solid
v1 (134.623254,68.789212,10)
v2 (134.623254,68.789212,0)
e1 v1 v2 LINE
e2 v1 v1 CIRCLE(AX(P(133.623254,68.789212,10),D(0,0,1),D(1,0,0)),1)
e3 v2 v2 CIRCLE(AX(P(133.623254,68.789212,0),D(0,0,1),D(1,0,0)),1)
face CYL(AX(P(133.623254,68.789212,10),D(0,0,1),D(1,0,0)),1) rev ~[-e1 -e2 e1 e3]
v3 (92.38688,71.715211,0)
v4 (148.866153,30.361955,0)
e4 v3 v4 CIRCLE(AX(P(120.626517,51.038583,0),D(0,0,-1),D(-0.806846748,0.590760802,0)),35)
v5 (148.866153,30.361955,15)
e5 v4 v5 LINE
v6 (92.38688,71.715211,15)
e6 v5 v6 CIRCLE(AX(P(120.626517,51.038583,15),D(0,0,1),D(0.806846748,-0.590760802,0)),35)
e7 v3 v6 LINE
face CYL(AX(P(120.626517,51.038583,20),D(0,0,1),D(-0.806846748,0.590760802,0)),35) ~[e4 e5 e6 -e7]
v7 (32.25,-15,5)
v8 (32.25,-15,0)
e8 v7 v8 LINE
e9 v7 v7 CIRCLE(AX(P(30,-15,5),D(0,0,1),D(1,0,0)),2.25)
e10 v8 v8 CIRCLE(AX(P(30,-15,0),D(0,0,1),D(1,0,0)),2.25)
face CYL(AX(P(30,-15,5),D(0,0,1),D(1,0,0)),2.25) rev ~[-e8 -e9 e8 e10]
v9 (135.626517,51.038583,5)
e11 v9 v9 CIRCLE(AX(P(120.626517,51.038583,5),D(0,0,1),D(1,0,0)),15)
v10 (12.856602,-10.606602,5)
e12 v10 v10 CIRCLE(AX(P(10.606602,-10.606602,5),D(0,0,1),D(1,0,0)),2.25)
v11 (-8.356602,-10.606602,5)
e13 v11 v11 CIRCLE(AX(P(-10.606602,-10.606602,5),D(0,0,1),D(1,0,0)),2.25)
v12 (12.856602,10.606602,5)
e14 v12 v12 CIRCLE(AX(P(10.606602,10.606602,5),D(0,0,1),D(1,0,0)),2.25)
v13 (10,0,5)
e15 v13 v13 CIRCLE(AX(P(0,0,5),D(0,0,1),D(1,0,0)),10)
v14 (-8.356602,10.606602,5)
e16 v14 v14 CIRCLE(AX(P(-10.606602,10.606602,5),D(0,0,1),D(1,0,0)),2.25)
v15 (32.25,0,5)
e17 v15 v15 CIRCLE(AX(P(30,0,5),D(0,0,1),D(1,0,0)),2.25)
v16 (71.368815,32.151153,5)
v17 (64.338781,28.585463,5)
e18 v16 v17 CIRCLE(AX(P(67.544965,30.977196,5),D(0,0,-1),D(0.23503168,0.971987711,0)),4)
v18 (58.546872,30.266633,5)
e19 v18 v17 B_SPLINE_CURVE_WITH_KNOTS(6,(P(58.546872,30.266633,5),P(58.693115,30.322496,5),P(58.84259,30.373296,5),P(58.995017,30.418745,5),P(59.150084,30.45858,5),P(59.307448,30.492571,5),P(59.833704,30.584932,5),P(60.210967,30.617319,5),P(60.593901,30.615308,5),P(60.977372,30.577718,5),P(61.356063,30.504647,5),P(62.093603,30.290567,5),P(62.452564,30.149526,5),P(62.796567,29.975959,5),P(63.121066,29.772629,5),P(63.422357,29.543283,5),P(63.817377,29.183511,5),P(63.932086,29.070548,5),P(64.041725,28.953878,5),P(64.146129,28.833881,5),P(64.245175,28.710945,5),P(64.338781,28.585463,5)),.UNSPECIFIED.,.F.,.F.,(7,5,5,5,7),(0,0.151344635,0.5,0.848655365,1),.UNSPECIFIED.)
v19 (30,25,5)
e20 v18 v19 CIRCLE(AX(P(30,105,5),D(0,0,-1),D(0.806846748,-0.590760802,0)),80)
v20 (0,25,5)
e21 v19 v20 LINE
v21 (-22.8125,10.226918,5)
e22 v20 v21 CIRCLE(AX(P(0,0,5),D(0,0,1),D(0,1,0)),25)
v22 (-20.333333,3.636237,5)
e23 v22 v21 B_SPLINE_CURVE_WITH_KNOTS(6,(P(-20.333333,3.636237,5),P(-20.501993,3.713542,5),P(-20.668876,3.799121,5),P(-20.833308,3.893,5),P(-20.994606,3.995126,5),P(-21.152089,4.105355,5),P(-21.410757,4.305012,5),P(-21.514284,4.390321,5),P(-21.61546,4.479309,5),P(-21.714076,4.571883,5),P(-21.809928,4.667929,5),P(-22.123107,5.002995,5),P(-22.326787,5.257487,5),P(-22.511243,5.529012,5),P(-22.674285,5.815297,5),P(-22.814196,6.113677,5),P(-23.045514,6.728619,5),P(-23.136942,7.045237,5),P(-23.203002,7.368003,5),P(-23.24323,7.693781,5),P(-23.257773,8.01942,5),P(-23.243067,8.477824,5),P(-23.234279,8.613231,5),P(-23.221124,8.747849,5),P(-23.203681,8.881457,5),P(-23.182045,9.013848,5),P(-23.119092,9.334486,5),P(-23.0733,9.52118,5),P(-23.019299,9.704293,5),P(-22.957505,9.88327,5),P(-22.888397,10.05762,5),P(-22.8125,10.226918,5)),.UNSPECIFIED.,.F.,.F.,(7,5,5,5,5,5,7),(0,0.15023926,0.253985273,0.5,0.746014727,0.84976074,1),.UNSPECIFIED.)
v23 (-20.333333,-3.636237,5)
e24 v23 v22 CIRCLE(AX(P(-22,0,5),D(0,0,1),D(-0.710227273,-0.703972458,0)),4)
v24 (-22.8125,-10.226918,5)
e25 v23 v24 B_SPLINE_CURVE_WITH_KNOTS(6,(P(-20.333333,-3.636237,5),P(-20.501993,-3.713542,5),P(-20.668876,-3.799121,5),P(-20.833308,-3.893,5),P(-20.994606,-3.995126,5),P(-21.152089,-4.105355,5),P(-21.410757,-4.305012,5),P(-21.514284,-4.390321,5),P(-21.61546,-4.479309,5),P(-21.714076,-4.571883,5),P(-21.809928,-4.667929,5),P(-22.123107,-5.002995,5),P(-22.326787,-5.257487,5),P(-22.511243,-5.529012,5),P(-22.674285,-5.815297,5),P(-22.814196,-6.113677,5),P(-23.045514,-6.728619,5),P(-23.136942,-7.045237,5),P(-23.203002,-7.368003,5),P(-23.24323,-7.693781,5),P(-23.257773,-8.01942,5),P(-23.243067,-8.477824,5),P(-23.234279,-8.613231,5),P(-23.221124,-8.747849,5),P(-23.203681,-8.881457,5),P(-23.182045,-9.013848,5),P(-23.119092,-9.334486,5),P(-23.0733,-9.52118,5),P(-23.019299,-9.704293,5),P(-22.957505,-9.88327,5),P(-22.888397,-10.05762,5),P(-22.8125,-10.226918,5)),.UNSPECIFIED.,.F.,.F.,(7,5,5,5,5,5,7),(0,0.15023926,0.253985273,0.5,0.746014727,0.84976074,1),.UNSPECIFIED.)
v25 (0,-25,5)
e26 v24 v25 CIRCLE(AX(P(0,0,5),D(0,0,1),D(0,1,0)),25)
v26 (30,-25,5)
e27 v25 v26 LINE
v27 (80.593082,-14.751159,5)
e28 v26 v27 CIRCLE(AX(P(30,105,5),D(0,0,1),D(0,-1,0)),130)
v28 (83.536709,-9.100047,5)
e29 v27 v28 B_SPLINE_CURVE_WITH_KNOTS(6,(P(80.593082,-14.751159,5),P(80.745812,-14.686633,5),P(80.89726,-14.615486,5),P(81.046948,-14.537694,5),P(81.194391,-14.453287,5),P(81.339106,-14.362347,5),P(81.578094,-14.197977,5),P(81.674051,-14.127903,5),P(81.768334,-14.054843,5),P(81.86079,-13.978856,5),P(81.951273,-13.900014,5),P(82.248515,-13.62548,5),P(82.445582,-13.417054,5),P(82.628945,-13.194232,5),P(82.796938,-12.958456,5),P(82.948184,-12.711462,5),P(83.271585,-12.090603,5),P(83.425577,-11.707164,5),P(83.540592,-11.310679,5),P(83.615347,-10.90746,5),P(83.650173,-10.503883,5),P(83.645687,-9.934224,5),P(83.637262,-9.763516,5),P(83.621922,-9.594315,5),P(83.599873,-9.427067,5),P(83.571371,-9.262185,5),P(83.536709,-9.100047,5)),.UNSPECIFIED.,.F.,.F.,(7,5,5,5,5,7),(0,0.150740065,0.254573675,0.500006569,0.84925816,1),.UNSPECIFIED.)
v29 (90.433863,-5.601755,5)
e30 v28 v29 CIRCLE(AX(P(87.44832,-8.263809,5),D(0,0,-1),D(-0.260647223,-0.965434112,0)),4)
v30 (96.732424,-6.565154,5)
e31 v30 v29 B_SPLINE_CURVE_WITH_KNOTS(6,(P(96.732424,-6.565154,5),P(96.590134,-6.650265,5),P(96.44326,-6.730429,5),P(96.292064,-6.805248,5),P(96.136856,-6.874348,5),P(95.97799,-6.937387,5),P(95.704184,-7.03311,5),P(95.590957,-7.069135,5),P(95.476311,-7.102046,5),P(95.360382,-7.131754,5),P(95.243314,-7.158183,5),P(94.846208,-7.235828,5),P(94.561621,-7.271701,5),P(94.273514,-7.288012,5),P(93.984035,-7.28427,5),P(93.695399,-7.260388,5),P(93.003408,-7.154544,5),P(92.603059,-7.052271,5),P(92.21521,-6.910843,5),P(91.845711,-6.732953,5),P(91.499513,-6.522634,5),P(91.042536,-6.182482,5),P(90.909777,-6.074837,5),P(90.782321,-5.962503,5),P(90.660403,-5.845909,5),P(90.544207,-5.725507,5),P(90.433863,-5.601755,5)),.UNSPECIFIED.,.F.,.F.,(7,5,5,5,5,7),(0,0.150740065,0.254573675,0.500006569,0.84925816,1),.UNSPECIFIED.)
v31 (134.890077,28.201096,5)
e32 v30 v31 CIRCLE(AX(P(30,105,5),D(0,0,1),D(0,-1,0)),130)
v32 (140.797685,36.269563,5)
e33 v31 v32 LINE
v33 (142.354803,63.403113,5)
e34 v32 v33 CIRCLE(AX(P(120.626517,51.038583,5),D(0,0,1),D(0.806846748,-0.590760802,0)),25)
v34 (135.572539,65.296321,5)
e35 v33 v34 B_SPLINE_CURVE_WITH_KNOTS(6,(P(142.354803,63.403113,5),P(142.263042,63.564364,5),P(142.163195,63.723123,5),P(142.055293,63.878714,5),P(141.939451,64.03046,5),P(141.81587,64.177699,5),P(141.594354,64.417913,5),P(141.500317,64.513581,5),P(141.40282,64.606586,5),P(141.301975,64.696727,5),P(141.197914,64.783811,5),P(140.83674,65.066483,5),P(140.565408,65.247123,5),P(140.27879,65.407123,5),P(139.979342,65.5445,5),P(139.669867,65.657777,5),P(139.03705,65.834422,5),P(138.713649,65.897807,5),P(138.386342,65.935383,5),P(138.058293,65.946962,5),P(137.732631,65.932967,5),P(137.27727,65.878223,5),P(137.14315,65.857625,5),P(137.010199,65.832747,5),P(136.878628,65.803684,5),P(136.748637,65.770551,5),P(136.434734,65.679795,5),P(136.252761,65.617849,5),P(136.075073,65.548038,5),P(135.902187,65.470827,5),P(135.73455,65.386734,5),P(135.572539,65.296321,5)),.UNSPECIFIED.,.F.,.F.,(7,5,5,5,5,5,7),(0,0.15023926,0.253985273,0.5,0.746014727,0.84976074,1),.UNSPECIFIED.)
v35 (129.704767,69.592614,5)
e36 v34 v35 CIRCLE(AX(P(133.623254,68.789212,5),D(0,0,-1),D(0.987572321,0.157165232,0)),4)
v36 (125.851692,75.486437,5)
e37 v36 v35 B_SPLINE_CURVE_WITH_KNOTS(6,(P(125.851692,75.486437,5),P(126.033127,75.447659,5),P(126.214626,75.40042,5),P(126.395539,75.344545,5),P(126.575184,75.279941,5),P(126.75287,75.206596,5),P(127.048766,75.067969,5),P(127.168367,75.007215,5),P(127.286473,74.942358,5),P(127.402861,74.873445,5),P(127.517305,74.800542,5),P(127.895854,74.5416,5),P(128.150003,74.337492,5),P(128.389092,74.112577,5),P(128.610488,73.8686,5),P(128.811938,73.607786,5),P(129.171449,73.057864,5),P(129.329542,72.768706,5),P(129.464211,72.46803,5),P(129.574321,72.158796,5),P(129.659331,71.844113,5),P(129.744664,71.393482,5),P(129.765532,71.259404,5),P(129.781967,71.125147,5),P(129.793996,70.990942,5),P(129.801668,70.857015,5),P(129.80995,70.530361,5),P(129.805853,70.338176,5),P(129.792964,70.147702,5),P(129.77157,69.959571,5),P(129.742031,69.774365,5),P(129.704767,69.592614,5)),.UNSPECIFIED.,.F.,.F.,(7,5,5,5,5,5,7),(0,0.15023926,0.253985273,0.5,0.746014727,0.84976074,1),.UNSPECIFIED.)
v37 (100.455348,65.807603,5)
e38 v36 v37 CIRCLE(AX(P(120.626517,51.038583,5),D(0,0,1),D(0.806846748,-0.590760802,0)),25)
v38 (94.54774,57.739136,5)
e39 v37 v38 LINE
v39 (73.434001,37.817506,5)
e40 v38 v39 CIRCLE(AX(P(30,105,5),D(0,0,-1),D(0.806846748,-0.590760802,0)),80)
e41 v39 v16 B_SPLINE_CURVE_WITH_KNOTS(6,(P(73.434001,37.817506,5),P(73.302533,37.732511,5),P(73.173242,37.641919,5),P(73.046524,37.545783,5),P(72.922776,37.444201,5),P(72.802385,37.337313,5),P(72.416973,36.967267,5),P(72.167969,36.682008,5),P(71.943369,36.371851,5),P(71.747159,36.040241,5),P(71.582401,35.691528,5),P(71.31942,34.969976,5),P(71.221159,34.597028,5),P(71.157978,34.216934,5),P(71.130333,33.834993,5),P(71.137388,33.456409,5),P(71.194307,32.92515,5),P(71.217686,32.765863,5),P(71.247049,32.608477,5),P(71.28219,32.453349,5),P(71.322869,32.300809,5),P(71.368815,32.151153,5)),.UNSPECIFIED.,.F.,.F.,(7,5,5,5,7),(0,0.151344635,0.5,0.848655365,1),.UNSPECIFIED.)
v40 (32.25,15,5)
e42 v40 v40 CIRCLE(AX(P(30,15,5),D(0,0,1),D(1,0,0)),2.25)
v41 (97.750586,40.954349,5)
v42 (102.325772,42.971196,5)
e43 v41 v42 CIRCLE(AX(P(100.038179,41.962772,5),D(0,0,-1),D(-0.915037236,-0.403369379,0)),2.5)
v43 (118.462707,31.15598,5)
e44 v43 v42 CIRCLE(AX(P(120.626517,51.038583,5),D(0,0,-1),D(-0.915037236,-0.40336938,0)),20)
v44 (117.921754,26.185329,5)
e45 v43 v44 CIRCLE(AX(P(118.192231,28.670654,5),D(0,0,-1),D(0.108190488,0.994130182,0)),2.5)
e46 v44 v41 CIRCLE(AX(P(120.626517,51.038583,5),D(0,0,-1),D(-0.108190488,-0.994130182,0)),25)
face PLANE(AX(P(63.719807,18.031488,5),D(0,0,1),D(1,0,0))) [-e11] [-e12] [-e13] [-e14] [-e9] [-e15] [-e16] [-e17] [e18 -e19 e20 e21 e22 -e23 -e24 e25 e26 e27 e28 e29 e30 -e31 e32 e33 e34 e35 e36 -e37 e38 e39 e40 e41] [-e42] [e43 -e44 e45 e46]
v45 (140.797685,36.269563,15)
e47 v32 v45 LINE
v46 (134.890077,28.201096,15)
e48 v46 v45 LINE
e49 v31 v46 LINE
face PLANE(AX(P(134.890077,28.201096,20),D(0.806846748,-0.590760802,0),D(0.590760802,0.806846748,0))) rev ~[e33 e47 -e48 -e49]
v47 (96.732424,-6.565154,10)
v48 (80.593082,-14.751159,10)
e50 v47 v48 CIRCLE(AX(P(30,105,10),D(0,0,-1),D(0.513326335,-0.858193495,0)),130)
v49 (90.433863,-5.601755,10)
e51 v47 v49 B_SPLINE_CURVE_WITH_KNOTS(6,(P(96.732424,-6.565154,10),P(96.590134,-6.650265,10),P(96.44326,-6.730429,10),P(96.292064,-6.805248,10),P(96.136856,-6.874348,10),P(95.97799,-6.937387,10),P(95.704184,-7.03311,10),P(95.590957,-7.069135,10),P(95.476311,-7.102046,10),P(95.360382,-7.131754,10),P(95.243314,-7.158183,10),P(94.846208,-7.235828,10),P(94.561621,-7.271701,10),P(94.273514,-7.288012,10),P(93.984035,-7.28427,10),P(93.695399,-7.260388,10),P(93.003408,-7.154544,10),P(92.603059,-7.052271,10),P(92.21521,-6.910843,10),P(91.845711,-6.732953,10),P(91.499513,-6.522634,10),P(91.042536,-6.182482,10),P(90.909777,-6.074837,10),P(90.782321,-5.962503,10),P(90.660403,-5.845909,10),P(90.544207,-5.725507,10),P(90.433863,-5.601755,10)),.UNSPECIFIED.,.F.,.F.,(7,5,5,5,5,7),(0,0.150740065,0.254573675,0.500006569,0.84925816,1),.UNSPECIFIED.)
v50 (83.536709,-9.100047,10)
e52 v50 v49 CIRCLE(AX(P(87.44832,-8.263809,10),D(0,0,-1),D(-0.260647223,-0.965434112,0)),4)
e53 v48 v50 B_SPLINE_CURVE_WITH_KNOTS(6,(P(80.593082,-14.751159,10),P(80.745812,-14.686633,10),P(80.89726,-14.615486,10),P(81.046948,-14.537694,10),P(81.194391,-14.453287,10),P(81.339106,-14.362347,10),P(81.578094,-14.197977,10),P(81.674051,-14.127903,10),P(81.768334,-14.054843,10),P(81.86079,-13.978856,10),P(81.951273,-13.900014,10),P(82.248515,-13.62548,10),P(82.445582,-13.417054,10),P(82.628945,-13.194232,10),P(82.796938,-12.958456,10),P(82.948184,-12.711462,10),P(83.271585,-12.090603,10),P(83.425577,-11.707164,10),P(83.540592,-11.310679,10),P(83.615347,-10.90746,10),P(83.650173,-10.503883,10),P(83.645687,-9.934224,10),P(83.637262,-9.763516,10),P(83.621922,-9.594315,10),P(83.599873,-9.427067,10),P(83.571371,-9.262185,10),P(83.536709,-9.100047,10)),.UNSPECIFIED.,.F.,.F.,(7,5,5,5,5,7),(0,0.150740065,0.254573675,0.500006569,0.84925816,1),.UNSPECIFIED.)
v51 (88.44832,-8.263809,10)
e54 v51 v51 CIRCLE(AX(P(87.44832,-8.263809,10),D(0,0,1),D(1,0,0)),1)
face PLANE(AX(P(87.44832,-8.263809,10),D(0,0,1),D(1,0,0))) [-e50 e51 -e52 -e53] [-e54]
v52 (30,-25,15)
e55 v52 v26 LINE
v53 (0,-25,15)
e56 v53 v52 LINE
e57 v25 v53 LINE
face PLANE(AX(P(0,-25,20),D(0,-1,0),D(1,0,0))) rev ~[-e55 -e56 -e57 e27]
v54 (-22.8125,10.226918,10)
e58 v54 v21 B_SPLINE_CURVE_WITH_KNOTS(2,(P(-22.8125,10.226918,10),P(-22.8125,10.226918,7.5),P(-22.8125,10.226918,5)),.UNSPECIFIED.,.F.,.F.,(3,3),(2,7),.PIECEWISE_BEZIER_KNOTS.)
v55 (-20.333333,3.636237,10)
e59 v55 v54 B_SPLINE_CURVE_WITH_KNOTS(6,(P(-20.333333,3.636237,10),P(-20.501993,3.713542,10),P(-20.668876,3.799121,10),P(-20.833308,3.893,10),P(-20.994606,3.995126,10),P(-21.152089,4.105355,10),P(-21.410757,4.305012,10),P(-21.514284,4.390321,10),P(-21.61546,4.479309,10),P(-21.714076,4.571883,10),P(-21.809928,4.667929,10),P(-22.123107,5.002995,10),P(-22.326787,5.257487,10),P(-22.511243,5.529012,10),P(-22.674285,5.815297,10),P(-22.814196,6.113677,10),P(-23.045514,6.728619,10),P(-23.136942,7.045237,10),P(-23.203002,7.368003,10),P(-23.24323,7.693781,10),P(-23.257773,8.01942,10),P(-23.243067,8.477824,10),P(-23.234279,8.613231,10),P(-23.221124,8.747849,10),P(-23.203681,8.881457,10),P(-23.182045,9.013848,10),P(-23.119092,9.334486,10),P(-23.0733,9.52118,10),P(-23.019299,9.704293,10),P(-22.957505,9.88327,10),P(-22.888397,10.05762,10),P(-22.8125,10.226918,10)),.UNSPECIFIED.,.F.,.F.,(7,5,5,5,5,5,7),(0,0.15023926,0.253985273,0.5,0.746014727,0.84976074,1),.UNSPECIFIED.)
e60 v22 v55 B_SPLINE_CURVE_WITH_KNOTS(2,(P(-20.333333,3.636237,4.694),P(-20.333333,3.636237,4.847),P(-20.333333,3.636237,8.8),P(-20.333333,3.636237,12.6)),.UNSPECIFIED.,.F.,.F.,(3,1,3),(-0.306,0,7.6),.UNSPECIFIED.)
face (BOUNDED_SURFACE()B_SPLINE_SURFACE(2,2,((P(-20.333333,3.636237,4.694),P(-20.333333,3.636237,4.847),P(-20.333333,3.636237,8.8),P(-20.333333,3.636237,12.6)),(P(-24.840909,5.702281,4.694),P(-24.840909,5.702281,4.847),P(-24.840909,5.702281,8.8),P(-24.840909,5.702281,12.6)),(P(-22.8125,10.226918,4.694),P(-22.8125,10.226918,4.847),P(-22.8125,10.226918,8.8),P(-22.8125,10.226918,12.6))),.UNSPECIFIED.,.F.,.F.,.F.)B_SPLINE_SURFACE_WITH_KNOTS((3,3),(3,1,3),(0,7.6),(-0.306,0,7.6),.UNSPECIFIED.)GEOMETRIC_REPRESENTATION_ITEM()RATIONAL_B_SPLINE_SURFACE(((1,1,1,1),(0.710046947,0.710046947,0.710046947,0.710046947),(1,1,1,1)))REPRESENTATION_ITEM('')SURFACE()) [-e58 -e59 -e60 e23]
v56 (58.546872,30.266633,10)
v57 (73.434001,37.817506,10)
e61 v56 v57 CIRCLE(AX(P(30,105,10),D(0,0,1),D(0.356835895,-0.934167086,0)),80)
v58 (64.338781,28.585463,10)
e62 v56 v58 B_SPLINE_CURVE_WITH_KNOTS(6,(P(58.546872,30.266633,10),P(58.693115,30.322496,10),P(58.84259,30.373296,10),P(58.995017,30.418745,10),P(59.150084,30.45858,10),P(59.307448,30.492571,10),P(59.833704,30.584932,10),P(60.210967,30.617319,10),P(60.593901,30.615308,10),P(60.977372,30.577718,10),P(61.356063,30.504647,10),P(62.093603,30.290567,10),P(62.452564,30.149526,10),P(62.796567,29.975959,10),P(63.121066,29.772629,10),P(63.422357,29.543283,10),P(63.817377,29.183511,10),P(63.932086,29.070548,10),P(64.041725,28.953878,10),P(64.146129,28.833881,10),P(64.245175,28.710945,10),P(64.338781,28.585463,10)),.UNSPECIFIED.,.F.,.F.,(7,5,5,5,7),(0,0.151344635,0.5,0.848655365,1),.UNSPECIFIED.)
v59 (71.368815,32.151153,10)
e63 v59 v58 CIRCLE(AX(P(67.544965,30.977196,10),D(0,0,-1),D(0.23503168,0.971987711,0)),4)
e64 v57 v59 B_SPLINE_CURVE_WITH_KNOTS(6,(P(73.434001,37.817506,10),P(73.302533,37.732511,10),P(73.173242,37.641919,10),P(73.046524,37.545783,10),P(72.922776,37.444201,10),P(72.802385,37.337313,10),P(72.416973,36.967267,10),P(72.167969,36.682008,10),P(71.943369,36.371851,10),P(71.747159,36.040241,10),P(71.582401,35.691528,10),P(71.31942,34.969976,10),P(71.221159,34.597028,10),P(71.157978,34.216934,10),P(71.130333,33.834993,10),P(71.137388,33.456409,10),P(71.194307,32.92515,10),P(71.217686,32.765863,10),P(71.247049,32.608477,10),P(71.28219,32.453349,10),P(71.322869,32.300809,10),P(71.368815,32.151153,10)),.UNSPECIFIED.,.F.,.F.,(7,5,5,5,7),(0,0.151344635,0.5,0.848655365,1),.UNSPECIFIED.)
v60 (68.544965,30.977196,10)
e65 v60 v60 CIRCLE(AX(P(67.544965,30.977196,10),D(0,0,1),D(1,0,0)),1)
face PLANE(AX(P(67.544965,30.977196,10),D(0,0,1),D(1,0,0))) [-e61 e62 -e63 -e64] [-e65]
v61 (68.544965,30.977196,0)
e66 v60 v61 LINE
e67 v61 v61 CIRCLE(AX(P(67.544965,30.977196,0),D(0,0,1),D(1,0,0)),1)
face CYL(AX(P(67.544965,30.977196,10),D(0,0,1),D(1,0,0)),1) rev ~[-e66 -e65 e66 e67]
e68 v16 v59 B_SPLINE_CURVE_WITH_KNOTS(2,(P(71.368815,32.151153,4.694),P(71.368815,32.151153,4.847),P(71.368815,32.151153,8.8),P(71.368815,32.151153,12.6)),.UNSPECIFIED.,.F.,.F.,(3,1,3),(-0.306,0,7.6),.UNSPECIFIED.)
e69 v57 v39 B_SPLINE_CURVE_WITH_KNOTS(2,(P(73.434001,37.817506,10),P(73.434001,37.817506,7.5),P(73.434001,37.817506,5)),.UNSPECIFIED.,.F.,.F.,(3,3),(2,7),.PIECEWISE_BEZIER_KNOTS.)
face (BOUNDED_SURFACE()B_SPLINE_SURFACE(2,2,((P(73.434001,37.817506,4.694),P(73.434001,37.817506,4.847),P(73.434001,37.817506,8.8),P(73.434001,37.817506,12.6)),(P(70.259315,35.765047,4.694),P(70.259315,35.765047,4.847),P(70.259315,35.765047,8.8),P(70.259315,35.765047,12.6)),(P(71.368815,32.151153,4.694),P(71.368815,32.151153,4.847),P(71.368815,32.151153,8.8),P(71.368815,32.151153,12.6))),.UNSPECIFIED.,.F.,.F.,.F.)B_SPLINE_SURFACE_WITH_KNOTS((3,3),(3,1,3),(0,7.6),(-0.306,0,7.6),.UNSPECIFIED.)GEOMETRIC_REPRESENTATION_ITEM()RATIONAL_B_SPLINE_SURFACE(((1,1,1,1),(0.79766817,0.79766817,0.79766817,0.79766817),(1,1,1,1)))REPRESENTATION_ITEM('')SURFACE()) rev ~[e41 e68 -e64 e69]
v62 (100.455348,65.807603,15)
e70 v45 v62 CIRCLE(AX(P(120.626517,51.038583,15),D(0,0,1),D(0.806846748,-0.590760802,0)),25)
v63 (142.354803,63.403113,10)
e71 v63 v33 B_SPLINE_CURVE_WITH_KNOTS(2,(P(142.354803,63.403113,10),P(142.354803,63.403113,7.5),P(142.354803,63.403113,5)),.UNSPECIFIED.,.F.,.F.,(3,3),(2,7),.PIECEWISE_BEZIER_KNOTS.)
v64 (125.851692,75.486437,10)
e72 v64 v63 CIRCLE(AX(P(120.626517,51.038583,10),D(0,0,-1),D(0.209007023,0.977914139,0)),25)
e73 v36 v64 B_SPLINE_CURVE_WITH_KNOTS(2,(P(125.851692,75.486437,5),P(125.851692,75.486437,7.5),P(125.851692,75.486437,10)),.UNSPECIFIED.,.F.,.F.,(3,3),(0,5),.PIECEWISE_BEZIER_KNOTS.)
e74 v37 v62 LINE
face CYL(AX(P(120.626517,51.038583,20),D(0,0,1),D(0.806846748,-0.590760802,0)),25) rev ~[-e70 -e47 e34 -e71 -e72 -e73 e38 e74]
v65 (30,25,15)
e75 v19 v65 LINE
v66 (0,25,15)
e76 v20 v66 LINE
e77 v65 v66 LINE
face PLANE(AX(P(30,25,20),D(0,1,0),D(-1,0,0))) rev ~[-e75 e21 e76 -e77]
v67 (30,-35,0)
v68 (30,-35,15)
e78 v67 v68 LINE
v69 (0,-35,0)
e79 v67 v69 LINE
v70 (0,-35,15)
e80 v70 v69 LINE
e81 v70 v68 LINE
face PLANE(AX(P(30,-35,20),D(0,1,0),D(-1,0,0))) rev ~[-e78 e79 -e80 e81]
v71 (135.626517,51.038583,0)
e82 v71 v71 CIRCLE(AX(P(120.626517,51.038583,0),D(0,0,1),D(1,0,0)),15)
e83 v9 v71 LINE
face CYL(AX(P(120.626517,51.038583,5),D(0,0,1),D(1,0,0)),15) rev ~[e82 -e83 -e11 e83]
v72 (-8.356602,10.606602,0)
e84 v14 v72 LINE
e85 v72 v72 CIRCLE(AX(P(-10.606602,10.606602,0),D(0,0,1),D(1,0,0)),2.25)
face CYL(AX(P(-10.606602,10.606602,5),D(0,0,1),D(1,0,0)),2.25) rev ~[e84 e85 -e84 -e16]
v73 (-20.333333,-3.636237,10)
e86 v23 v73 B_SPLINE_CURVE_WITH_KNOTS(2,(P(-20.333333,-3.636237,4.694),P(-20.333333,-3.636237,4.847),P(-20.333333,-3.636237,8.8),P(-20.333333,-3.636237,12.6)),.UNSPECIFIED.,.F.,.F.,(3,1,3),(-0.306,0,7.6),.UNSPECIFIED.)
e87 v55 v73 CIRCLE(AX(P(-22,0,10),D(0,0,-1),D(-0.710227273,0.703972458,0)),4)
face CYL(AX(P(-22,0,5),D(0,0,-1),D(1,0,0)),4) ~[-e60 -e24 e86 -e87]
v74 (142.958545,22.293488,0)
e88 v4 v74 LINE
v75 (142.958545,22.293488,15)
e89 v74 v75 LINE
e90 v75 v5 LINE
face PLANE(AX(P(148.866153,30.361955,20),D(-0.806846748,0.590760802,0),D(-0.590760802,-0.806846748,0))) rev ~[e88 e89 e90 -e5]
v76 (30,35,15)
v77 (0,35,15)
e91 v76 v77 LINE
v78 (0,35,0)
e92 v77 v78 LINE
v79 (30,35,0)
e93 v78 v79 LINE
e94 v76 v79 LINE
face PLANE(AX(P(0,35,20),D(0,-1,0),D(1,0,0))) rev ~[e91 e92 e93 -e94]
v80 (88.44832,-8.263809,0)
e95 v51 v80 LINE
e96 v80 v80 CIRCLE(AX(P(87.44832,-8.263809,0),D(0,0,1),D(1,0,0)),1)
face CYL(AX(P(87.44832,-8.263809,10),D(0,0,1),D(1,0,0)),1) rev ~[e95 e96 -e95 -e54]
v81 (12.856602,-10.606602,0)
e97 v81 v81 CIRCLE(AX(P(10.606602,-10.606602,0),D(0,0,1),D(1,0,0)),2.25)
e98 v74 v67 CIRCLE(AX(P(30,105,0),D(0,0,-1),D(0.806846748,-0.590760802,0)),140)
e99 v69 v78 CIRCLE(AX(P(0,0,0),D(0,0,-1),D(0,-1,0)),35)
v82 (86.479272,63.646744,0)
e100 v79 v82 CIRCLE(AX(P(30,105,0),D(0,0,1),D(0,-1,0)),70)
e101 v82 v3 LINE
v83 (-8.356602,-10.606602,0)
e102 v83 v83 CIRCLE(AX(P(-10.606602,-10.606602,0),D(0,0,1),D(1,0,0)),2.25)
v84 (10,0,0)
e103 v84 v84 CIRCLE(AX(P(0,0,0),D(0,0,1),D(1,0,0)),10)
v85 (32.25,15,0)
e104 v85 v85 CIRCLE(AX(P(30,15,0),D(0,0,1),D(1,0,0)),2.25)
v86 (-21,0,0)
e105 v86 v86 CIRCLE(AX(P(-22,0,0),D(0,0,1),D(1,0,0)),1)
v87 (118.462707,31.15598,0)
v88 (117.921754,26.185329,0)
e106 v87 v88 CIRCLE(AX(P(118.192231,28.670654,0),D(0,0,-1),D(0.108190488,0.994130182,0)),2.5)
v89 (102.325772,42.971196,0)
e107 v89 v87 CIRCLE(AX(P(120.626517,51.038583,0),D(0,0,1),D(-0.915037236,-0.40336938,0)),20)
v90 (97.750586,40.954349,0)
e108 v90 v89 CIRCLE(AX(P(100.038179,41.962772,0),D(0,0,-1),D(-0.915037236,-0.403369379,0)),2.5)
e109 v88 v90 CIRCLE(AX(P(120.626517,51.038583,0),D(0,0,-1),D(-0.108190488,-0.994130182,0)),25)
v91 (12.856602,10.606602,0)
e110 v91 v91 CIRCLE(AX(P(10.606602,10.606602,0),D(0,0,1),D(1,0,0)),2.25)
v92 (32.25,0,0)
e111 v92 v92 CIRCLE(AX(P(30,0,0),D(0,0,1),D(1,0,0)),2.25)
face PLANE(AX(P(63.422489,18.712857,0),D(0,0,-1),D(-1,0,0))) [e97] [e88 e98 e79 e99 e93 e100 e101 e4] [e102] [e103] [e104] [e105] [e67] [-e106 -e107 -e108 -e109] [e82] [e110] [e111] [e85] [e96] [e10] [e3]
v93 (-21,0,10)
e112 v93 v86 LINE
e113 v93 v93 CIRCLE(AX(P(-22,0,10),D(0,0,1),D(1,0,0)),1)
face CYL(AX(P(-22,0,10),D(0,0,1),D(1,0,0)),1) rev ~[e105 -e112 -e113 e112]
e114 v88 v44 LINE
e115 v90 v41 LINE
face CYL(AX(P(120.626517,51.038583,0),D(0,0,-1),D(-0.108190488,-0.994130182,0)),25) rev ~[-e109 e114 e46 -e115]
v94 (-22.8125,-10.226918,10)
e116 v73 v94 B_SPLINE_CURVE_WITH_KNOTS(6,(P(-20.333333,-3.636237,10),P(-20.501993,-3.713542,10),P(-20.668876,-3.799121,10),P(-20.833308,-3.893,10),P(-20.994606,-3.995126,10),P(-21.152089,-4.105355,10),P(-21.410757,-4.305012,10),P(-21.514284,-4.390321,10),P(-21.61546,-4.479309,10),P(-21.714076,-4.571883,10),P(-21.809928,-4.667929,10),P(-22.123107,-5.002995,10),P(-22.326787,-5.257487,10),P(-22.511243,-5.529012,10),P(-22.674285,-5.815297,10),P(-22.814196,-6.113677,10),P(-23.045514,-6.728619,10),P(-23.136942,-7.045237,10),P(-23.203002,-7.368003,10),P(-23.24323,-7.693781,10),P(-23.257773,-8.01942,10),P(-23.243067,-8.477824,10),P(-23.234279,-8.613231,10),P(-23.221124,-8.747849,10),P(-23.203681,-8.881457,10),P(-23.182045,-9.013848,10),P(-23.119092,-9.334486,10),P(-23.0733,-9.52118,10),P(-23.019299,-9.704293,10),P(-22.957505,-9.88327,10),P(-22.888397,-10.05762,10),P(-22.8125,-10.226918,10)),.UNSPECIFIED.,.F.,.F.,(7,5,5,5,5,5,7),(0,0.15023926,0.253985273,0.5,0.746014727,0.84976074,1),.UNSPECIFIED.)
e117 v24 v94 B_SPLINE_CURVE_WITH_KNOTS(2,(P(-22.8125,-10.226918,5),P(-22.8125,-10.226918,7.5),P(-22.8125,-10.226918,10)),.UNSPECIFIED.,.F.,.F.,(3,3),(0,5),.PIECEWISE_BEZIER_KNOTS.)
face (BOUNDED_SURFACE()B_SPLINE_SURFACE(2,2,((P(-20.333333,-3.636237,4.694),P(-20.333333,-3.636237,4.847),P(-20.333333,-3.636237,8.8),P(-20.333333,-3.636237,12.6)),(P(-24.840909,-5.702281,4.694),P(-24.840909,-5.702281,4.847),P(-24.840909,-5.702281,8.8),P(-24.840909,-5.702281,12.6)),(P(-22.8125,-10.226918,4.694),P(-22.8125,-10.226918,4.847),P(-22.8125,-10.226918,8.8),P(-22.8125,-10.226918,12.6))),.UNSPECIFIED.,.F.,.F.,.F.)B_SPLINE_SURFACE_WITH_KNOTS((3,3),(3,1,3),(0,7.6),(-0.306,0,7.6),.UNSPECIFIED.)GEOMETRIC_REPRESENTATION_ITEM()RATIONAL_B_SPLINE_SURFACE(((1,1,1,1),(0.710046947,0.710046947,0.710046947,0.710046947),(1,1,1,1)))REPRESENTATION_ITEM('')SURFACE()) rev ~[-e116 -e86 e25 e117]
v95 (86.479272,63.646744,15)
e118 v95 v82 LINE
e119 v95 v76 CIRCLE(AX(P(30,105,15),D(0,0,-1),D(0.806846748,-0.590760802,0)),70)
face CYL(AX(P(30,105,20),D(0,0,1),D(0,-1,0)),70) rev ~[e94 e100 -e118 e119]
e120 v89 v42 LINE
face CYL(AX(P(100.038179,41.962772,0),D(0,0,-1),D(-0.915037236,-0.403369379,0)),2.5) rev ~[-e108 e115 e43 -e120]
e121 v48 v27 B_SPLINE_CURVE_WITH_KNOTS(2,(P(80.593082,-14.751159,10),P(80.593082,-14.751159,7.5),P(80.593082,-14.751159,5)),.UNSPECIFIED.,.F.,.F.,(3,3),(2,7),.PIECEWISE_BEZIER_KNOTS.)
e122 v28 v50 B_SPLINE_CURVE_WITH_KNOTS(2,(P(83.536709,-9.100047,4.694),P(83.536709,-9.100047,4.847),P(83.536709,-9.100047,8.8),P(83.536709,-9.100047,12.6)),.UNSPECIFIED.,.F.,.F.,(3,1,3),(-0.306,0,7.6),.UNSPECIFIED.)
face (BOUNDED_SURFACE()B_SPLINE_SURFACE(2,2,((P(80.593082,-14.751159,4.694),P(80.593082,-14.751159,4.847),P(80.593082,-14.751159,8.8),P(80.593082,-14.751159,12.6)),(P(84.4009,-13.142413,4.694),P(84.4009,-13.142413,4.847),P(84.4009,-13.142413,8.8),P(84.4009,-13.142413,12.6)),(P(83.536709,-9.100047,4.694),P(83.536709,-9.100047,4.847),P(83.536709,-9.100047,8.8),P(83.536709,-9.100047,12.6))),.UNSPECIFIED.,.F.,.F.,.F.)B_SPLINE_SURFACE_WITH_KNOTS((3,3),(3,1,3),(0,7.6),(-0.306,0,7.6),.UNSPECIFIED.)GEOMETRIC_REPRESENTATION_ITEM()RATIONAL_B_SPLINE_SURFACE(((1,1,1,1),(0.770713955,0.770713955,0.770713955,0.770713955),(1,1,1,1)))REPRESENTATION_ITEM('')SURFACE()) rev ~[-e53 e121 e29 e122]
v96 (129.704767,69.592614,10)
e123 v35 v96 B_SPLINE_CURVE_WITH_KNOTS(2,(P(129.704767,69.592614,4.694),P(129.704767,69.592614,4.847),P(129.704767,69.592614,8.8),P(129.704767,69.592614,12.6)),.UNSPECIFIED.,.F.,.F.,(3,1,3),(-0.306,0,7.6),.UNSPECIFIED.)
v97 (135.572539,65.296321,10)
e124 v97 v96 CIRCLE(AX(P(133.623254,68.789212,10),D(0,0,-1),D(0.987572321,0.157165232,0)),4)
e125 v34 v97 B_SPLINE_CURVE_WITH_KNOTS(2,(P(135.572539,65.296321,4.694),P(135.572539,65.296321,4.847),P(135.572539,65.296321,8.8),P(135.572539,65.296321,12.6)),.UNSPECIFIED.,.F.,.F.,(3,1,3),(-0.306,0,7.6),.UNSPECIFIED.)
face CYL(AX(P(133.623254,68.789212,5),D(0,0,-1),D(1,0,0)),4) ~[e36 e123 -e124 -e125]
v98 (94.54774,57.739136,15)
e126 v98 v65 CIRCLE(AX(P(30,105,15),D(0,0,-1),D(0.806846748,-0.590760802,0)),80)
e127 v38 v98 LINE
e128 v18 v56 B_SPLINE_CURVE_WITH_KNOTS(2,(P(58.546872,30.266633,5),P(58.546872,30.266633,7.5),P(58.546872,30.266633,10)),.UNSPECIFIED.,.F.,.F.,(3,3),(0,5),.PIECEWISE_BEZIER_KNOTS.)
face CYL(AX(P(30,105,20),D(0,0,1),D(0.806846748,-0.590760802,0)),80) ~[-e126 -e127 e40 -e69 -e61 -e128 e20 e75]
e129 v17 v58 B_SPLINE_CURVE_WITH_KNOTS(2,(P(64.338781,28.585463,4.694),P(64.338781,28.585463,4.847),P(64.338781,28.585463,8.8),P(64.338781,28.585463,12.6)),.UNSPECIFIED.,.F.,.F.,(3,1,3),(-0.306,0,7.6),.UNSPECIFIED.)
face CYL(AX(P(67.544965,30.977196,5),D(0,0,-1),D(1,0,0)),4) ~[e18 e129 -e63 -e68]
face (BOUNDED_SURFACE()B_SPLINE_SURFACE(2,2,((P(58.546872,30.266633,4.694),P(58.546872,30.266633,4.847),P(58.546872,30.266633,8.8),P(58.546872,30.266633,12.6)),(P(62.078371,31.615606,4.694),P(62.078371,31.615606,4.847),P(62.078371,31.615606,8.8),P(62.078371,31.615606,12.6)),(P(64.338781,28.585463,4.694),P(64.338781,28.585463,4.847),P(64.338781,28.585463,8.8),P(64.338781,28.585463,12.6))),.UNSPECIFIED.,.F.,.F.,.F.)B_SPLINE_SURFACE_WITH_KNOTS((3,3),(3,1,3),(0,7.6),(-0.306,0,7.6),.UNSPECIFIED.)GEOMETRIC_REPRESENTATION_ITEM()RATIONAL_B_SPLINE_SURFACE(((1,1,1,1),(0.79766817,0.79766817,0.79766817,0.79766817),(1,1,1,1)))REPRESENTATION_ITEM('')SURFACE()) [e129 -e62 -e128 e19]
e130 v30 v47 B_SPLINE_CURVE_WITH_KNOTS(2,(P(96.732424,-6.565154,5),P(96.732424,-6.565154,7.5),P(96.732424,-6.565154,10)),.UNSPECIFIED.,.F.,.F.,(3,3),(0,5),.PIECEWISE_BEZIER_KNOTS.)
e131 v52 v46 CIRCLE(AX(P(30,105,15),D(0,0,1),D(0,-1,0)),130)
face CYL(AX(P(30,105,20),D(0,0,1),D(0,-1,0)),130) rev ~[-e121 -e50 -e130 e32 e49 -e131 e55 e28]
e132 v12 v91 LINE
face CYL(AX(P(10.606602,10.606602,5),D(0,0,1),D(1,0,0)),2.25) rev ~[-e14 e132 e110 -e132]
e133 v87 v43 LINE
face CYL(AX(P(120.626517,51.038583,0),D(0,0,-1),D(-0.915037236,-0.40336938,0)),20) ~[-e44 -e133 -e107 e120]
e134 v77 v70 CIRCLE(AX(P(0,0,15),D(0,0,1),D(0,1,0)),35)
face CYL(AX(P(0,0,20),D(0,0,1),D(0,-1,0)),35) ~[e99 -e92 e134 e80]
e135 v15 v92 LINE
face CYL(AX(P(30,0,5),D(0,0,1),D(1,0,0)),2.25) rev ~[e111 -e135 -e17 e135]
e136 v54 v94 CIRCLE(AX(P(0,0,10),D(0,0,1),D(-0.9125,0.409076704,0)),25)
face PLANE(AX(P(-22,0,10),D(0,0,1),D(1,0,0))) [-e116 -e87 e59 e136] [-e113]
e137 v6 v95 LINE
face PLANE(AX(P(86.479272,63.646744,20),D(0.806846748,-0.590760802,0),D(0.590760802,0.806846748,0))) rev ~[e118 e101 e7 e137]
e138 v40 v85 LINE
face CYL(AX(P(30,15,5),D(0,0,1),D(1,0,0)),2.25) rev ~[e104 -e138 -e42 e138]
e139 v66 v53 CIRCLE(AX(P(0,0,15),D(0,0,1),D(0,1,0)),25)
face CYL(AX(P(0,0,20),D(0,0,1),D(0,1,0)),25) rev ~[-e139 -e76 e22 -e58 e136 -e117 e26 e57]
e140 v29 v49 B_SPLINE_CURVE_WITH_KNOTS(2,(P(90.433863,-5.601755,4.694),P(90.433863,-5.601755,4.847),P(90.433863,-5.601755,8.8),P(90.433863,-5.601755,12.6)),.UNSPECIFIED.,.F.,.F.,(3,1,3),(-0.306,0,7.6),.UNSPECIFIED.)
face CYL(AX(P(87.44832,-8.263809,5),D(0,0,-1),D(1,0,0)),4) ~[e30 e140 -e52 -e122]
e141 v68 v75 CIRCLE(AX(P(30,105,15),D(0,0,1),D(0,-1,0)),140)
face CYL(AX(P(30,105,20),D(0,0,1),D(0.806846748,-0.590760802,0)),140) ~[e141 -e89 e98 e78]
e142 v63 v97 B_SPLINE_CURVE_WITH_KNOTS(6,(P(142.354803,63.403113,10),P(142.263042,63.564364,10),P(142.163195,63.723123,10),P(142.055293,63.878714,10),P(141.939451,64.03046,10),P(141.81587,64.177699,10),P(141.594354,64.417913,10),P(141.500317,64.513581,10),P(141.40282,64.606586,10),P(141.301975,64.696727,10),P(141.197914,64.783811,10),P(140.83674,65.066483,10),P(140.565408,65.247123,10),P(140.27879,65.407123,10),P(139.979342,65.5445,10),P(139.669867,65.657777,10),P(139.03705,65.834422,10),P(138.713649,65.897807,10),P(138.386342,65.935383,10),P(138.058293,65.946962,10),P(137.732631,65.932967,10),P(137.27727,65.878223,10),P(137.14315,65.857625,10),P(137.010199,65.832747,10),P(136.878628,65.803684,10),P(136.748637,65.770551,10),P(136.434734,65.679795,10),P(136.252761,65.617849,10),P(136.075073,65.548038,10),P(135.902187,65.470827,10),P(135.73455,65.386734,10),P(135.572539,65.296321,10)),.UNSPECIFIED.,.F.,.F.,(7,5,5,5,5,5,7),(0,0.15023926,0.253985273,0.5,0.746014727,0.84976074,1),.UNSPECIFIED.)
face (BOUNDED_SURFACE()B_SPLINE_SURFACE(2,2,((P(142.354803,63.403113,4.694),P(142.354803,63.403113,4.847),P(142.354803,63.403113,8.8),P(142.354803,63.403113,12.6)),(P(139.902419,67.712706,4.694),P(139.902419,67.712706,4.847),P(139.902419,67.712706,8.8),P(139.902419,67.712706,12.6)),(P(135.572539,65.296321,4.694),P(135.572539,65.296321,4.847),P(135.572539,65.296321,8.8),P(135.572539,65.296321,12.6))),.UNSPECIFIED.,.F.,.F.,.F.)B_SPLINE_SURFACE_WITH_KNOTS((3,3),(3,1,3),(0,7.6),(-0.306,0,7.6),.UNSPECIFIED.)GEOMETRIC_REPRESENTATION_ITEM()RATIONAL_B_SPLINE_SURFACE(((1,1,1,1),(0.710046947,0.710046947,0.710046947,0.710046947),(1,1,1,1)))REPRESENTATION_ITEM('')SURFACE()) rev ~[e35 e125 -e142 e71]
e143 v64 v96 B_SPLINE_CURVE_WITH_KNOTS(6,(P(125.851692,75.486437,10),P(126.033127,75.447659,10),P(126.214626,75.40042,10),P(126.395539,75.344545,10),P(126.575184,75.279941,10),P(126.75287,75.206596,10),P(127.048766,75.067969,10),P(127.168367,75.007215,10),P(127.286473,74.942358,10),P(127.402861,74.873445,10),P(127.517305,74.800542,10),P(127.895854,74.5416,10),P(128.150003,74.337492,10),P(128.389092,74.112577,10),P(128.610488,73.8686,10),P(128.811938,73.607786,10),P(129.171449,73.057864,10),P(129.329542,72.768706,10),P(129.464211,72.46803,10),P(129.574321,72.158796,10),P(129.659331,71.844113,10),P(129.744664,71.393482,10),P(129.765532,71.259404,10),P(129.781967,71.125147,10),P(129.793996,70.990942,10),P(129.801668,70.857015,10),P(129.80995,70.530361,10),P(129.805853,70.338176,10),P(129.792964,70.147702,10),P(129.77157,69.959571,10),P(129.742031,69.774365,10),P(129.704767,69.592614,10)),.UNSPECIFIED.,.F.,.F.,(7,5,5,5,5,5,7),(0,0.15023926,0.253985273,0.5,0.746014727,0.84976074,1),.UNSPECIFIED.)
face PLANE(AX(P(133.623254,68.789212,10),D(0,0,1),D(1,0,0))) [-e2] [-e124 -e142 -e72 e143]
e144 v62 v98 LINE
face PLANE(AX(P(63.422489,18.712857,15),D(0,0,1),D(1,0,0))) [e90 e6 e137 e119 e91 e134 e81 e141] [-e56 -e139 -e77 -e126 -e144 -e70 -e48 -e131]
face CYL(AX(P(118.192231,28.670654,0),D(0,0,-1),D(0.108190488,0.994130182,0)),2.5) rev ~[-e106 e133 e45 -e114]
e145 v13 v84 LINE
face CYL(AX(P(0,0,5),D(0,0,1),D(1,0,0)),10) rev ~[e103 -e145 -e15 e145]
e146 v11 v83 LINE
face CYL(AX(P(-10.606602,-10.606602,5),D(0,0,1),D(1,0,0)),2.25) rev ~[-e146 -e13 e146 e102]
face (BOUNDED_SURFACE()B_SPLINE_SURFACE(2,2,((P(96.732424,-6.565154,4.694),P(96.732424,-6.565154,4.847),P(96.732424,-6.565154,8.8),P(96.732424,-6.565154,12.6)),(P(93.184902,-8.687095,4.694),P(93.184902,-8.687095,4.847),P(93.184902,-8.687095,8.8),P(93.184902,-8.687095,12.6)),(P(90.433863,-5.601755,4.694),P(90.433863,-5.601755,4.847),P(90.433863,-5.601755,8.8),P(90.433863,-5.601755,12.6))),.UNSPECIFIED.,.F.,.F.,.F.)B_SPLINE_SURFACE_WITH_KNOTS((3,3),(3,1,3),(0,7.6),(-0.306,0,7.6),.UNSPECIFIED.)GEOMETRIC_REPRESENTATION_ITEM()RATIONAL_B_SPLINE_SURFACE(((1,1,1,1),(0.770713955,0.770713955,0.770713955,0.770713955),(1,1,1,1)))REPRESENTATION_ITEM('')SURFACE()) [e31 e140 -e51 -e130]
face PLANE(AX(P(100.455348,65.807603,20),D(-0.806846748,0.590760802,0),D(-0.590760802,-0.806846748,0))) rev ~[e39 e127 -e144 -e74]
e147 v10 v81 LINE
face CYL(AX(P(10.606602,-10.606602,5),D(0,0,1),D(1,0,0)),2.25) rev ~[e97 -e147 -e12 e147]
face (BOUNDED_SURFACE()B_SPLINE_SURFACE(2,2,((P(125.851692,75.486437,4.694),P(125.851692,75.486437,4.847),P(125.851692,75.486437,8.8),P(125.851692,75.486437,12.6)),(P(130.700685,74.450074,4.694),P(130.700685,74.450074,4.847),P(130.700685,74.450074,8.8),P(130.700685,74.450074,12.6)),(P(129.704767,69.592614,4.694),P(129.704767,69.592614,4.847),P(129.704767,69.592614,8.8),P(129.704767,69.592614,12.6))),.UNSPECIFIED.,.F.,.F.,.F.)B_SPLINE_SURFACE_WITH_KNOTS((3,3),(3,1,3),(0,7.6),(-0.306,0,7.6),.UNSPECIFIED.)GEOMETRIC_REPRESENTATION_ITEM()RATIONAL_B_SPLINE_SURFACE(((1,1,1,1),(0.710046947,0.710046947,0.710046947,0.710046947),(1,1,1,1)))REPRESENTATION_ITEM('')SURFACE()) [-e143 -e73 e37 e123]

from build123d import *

# Parameters (mm, degrees)
EXTRUDE_1_DEPTH                 = 20
CHAMFER_1_SIZE                  = 10
CUT_EXTRUDE_1_DEPTH             = 15
SKETCH_3_R                      = 15
CUT_EXTRUDE_2_DEPTH             = 20
SKETCH_4_R                      = 2.25
SKETCH_4_R_2                    = 10
CUT_EXTRUDE_3_DEPTH             = 20
SKETCH_5_R                      = 4
EXTRUDE_3_DEPTH                 = 5
FILLET_1_R                      = 5
SKETCH_6_R                      = 1
CUT_EXTRUDE_4_DEPTH             = 10
FILLET_2_R                      = 5
CUT_EXTRUDE_5_REACH             = 22
CUT_EXTRUDE_5_DIRECTION_2_DEPTH = 1.0000001
EXTRUDE_4_DEPTH                 = 13
CUT_EXTRUDE_6_DEPTH             = 5


with BuildPart() as part:
    # 스케치1 → 보스-돌출1 (new body)
    with BuildSketch(Plane.XY):
        with BuildLine():
            Line((0, 35), (30, 35))
            ThreePointArc((30, 35), (61.66442854, 42.571128753), (86.479272356, 63.646743851))
            Line((86.479272356, 63.646743851), (92.386880378, 71.715211331))
            ThreePointArc((92.386880378, 71.715211331), (141.30314463, 79.278219435), (148.866152734, 30.361955182))
            Line((148.866152734, 30.361955182), (142.958544713, 22.293487703))
            ThreePointArc((142.958544713, 22.293487703), (93.328857081, -19.857742494), (30, -35))
            Line((30, -35), (0, -35))
            ThreePointArc((0, -35), (-35, 0), (0, 35))
        make_face()
    extrude(amount=EXTRUDE_1_DEPTH)

    # 모따기1
    chamfer_1_edges = [part.edges().sort_by_distance(p)[0] for p in [
        (141.30314463, 79.278219435, 20),
        (89.433076367, 67.680977591, 20),
        (61.66442854, 42.571128753, 20),
        (15, 35, 20),
        (-35, 0, 20),
        (15, -35, 20),
        (93.328857081, -19.857742494, 20),
        (145.912348723, 26.327721442, 20),
    ]]
    chamfer(chamfer_1_edges, length=CHAMFER_1_SIZE)

    # 스케치2 → 컷-돌출1 (cut)
    with BuildSketch(Plane.XY.offset(20)):
        with BuildLine():
            Line((30, 25), (0, 25))
            ThreePointArc((0, 25), (-25, 0), (0, -25))
            Line((0, -25), (30, -25))
            ThreePointArc((30, -25), (88.805367289, -10.939332316), (134.890077233, 28.201095724))
            Line((134.890077233, 28.201095724), (140.797685254, 36.269563203))
            ThreePointArc((140.797685254, 36.269563203), (135.395536609, 71.209751955), (100.455347857, 65.80760331))
            Line((100.455347857, 65.80760331), (94.547739836, 57.73913583))
            ThreePointArc((94.547739836, 57.73913583), (66.187918332, 33.652718575), (30, 25))
        make_face()
    extrude(amount=-CUT_EXTRUDE_1_DEPTH, mode=Mode.SUBTRACT)

    # 스케치3 → 컷-돌출2 (cut)
    with BuildSketch(Plane.XY.offset(5)):
        with Locations((120.626516556, 51.038583256)):
            Circle(SKETCH_3_R)
    extrude(amount=-CUT_EXTRUDE_2_DEPTH, mode=Mode.SUBTRACT)

    # 스케치4 → 컷-돌출3 (cut)
    with BuildSketch(Plane.XY.offset(5)):
        with Locations((10.606601718, 10.606601718)):
            Circle(SKETCH_4_R)
        with Locations((10.606601718, -10.606601718)):
            Circle(SKETCH_4_R)
        with Locations((-10.606601718, -10.606601718)):
            Circle(SKETCH_4_R)
        with Locations((-10.606601718, 10.606601718)):
            Circle(SKETCH_4_R)
        with Locations((30, 0)):
            Circle(SKETCH_4_R)
        with Locations((30, 15)):
            Circle(SKETCH_4_R)
        with Locations((30, -15)):
            Circle(SKETCH_4_R)
        Circle(SKETCH_4_R_2)
    extrude(amount=-CUT_EXTRUDE_3_DEPTH, mode=Mode.SUBTRACT)

    # 스케치5 → 보스-돌출3 (add)
    with BuildSketch(Plane.XY.offset(5)):
        with Locations((-22, 0)):
            Circle(SKETCH_5_R)
        with Locations((133.623254202, 68.789211711)):
            Circle(SKETCH_5_R)
        with Locations((67.544965269, 30.977195521)):
            Circle(SKETCH_5_R)
        with Locations((87.448320352, -8.263809263)):
            Circle(SKETCH_5_R)
    extrude(amount=EXTRUDE_3_DEPTH)

    # 필렛1
    fillet_1_edges = [part.edges().sort_by_distance(p)[0] for p in [
        (-24.840909091, -2.81588983, 7.5),
        (-24.840909091, 2.81588983, 7.5),
        (133.029560383, 72.744907307, 7.5),
        (137.573543488, 69.417872638, 7.5),
        (68.485091989, 34.865146363, 7.5),
        (63.852594761, 32.515506293, 7.5),
        (91.180070497, -9.703962329, 7.5),
        (86.405731461, -12.125545712, 7.5),
    ]]
    fillet(fillet_1_edges, radius=FILLET_1_R)

    # 스케치6 → 컷-돌출4 (cut)
    with BuildSketch(Plane.XY.offset(10)):
        with Locations((67.544965269, 30.977195521)):
            Circle(SKETCH_6_R)
        with Locations((87.448320352, -8.263809263)):
            Circle(SKETCH_6_R)
        with Locations((-22, 0)):
            Circle(SKETCH_6_R)
        with Locations((133.623254202, 68.789211711)):
            Circle(SKETCH_6_R)
    extrude(amount=-CUT_EXTRUDE_4_DEPTH, mode=Mode.SUBTRACT)

    # 필렛2
    fillet_2_edges = [part.edges().sort_by_distance(p)[0] for p in [
        (141.30314463, 79.278219435, 10),
        (89.433076367, 67.680977591, 10),
        (145.912348723, 26.327721442, 10),
        (61.66442854, 42.571128753, 10),
        (93.328857081, -19.857742494, 10),
        (15, 35, 10),
        (15, -35, 10),
        (-35, 0, 10),
    ]]
    fillet(fillet_2_edges, radius=FILLET_2_R)

    # 스케치7 → 컷-돌출5 (cut, up to next)
    with BuildSketch(Plane(origin=(0, 0, 0), x_dir=(-1, 0, 0), z_dir=(0, 0, -1)), mode=Mode.PRIVATE) as cut_extrude_5_sk1:
        with BuildLine():
            ThreePointArc((-117.92175435, 26.185328713), (-105.857496503, 30.867414558), (-97.750585651, 40.954348766))
            ThreePointArc((-97.750585651, 40.954348766), (-99.029755293, 44.250365305), (-102.325771832, 42.971195664))
            ThreePointArc((-102.325771832, 42.971195664), (-108.811300513, 34.901648297), (-118.462706791, 31.155979621))
            ThreePointArc((-118.462706791, 31.155979621), (-120.677556025, 28.400177947), (-117.92175435, 26.185328713))
        make_face()
    cut_extrude_5_tool1 = extrude(cut_extrude_5_sk1.sketch, amount=-CUT_EXTRUDE_5_REACH, mode=Mode.PRIVATE) & part.part
    add(cut_extrude_5_tool1.solids().sort_by_distance((108.102297, 33.933308, 0))[0], mode=Mode.SUBTRACT)

    # 스케치7 → 컷-돌출5 direction 2 (cut)
    with BuildSketch(Plane(origin=(0, 0, 0), x_dir=(-1, 0, 0), z_dir=(0, 0, -1))):
        with BuildLine():
            ThreePointArc((-117.92175435, 26.185328713), (-105.857496503, 30.867414558), (-97.750585651, 40.954348766))
            ThreePointArc((-97.750585651, 40.954348766), (-99.029755293, 44.250365305), (-102.325771832, 42.971195664))
            ThreePointArc((-102.325771832, 42.971195664), (-108.811300513, 34.901648297), (-118.462706791, 31.155979621))
            ThreePointArc((-118.462706791, 31.155979621), (-120.677556025, 28.400177947), (-117.92175435, 26.185328713))
        make_face()
    extrude(amount=CUT_EXTRUDE_5_DIRECTION_2_DEPTH, mode=Mode.SUBTRACT)

    # 스케치8 → 보스-돌출4 (add)
    with BuildSketch(Plane(origin=(0, 0, 20), x_dir=(-1, 0, 0), z_dir=(0, 0, -1))):
        with BuildLine():
            Line((-30, -35), (0, -35))
            ThreePointArc((0, -35), (35, 0), (0, 35))
            Line((0, 35), (-30, 35))
            ThreePointArc((-30, 35), (-61.66442854, 42.571128753), (-86.479272356, 63.646743851))
            Line((-86.479272356, 63.646743851), (-92.386880378, 71.715211331))
            ThreePointArc((-92.386880378, 71.715211331), (-141.30314463, 79.278219435), (-148.866152734, 30.361955182))
            Line((-148.866152734, 30.361955182), (-142.958544713, 22.293487703))
            ThreePointArc((-142.958544713, 22.293487703), (-93.328857081, -19.857742494), (-30, -35))
        make_face()
        with BuildLine():
            Line((-30, -25), (0, -25))
            ThreePointArc((0, -25), (25, 0), (0, 25))
            Line((0, 25), (-30, 25))
            ThreePointArc((-30, 25), (-66.187918332, 33.652718575), (-94.547739836, 57.73913583))
            Line((-94.547739836, 57.73913583), (-100.455347857, 65.80760331))
            ThreePointArc((-100.455347857, 65.80760331), (-135.395536609, 71.209751955), (-140.797685254, 36.269563203))
            Line((-140.797685254, 36.269563203), (-134.890077233, 28.201095724))
            ThreePointArc((-134.890077233, 28.201095724), (-88.805367289, -10.939332316), (-30, -25))
        make_face(mode=Mode.SUBTRACT)
    extrude(amount=EXTRUDE_4_DEPTH)

    # 스케치9 → 컷-돌출6 (cut)
    with BuildSketch(Plane.XY.offset(20)):
        with BuildLine():
            Line((0, -35), (30, -35))
            ThreePointArc((30, -35), (93.328857081, -19.857742494), (142.958544713, 22.293487703))
            Line((142.958544713, 22.293487703), (148.866152734, 30.361955182))
            ThreePointArc((148.866152734, 30.361955182), (141.30314463, 79.278219435), (92.386880378, 71.715211331))
            Line((92.386880378, 71.715211331), (86.479272356, 63.646743851))
            ThreePointArc((86.479272356, 63.646743851), (61.66442854, 42.571128753), (30, 35))
            Line((30, 35), (0, 35))
            ThreePointArc((0, 35), (-35, 0), (0, -35))
        make_face()
        with BuildLine():
            Line((0, -25), (30, -25))
            ThreePointArc((30, -25), (88.805367289, -10.939332316), (134.890077233, 28.201095724))
            Line((134.890077233, 28.201095724), (140.797685254, 36.269563203))
            ThreePointArc((140.797685254, 36.269563203), (135.395536609, 71.209751955), (100.455347857, 65.80760331))
            Line((100.455347857, 65.80760331), (94.547739836, 57.73913583))
            ThreePointArc((94.547739836, 57.73913583), (66.187918332, 33.652718575), (30, 25))
            Line((30, 25), (0, 25))
            ThreePointArc((0, 25), (-25, 0), (0, -25))
        make_face(mode=Mode.SUBTRACT)
    extrude(amount=-CUT_EXTRUDE_6_DEPTH, mode=Mode.SUBTRACT)


solid = part.part
